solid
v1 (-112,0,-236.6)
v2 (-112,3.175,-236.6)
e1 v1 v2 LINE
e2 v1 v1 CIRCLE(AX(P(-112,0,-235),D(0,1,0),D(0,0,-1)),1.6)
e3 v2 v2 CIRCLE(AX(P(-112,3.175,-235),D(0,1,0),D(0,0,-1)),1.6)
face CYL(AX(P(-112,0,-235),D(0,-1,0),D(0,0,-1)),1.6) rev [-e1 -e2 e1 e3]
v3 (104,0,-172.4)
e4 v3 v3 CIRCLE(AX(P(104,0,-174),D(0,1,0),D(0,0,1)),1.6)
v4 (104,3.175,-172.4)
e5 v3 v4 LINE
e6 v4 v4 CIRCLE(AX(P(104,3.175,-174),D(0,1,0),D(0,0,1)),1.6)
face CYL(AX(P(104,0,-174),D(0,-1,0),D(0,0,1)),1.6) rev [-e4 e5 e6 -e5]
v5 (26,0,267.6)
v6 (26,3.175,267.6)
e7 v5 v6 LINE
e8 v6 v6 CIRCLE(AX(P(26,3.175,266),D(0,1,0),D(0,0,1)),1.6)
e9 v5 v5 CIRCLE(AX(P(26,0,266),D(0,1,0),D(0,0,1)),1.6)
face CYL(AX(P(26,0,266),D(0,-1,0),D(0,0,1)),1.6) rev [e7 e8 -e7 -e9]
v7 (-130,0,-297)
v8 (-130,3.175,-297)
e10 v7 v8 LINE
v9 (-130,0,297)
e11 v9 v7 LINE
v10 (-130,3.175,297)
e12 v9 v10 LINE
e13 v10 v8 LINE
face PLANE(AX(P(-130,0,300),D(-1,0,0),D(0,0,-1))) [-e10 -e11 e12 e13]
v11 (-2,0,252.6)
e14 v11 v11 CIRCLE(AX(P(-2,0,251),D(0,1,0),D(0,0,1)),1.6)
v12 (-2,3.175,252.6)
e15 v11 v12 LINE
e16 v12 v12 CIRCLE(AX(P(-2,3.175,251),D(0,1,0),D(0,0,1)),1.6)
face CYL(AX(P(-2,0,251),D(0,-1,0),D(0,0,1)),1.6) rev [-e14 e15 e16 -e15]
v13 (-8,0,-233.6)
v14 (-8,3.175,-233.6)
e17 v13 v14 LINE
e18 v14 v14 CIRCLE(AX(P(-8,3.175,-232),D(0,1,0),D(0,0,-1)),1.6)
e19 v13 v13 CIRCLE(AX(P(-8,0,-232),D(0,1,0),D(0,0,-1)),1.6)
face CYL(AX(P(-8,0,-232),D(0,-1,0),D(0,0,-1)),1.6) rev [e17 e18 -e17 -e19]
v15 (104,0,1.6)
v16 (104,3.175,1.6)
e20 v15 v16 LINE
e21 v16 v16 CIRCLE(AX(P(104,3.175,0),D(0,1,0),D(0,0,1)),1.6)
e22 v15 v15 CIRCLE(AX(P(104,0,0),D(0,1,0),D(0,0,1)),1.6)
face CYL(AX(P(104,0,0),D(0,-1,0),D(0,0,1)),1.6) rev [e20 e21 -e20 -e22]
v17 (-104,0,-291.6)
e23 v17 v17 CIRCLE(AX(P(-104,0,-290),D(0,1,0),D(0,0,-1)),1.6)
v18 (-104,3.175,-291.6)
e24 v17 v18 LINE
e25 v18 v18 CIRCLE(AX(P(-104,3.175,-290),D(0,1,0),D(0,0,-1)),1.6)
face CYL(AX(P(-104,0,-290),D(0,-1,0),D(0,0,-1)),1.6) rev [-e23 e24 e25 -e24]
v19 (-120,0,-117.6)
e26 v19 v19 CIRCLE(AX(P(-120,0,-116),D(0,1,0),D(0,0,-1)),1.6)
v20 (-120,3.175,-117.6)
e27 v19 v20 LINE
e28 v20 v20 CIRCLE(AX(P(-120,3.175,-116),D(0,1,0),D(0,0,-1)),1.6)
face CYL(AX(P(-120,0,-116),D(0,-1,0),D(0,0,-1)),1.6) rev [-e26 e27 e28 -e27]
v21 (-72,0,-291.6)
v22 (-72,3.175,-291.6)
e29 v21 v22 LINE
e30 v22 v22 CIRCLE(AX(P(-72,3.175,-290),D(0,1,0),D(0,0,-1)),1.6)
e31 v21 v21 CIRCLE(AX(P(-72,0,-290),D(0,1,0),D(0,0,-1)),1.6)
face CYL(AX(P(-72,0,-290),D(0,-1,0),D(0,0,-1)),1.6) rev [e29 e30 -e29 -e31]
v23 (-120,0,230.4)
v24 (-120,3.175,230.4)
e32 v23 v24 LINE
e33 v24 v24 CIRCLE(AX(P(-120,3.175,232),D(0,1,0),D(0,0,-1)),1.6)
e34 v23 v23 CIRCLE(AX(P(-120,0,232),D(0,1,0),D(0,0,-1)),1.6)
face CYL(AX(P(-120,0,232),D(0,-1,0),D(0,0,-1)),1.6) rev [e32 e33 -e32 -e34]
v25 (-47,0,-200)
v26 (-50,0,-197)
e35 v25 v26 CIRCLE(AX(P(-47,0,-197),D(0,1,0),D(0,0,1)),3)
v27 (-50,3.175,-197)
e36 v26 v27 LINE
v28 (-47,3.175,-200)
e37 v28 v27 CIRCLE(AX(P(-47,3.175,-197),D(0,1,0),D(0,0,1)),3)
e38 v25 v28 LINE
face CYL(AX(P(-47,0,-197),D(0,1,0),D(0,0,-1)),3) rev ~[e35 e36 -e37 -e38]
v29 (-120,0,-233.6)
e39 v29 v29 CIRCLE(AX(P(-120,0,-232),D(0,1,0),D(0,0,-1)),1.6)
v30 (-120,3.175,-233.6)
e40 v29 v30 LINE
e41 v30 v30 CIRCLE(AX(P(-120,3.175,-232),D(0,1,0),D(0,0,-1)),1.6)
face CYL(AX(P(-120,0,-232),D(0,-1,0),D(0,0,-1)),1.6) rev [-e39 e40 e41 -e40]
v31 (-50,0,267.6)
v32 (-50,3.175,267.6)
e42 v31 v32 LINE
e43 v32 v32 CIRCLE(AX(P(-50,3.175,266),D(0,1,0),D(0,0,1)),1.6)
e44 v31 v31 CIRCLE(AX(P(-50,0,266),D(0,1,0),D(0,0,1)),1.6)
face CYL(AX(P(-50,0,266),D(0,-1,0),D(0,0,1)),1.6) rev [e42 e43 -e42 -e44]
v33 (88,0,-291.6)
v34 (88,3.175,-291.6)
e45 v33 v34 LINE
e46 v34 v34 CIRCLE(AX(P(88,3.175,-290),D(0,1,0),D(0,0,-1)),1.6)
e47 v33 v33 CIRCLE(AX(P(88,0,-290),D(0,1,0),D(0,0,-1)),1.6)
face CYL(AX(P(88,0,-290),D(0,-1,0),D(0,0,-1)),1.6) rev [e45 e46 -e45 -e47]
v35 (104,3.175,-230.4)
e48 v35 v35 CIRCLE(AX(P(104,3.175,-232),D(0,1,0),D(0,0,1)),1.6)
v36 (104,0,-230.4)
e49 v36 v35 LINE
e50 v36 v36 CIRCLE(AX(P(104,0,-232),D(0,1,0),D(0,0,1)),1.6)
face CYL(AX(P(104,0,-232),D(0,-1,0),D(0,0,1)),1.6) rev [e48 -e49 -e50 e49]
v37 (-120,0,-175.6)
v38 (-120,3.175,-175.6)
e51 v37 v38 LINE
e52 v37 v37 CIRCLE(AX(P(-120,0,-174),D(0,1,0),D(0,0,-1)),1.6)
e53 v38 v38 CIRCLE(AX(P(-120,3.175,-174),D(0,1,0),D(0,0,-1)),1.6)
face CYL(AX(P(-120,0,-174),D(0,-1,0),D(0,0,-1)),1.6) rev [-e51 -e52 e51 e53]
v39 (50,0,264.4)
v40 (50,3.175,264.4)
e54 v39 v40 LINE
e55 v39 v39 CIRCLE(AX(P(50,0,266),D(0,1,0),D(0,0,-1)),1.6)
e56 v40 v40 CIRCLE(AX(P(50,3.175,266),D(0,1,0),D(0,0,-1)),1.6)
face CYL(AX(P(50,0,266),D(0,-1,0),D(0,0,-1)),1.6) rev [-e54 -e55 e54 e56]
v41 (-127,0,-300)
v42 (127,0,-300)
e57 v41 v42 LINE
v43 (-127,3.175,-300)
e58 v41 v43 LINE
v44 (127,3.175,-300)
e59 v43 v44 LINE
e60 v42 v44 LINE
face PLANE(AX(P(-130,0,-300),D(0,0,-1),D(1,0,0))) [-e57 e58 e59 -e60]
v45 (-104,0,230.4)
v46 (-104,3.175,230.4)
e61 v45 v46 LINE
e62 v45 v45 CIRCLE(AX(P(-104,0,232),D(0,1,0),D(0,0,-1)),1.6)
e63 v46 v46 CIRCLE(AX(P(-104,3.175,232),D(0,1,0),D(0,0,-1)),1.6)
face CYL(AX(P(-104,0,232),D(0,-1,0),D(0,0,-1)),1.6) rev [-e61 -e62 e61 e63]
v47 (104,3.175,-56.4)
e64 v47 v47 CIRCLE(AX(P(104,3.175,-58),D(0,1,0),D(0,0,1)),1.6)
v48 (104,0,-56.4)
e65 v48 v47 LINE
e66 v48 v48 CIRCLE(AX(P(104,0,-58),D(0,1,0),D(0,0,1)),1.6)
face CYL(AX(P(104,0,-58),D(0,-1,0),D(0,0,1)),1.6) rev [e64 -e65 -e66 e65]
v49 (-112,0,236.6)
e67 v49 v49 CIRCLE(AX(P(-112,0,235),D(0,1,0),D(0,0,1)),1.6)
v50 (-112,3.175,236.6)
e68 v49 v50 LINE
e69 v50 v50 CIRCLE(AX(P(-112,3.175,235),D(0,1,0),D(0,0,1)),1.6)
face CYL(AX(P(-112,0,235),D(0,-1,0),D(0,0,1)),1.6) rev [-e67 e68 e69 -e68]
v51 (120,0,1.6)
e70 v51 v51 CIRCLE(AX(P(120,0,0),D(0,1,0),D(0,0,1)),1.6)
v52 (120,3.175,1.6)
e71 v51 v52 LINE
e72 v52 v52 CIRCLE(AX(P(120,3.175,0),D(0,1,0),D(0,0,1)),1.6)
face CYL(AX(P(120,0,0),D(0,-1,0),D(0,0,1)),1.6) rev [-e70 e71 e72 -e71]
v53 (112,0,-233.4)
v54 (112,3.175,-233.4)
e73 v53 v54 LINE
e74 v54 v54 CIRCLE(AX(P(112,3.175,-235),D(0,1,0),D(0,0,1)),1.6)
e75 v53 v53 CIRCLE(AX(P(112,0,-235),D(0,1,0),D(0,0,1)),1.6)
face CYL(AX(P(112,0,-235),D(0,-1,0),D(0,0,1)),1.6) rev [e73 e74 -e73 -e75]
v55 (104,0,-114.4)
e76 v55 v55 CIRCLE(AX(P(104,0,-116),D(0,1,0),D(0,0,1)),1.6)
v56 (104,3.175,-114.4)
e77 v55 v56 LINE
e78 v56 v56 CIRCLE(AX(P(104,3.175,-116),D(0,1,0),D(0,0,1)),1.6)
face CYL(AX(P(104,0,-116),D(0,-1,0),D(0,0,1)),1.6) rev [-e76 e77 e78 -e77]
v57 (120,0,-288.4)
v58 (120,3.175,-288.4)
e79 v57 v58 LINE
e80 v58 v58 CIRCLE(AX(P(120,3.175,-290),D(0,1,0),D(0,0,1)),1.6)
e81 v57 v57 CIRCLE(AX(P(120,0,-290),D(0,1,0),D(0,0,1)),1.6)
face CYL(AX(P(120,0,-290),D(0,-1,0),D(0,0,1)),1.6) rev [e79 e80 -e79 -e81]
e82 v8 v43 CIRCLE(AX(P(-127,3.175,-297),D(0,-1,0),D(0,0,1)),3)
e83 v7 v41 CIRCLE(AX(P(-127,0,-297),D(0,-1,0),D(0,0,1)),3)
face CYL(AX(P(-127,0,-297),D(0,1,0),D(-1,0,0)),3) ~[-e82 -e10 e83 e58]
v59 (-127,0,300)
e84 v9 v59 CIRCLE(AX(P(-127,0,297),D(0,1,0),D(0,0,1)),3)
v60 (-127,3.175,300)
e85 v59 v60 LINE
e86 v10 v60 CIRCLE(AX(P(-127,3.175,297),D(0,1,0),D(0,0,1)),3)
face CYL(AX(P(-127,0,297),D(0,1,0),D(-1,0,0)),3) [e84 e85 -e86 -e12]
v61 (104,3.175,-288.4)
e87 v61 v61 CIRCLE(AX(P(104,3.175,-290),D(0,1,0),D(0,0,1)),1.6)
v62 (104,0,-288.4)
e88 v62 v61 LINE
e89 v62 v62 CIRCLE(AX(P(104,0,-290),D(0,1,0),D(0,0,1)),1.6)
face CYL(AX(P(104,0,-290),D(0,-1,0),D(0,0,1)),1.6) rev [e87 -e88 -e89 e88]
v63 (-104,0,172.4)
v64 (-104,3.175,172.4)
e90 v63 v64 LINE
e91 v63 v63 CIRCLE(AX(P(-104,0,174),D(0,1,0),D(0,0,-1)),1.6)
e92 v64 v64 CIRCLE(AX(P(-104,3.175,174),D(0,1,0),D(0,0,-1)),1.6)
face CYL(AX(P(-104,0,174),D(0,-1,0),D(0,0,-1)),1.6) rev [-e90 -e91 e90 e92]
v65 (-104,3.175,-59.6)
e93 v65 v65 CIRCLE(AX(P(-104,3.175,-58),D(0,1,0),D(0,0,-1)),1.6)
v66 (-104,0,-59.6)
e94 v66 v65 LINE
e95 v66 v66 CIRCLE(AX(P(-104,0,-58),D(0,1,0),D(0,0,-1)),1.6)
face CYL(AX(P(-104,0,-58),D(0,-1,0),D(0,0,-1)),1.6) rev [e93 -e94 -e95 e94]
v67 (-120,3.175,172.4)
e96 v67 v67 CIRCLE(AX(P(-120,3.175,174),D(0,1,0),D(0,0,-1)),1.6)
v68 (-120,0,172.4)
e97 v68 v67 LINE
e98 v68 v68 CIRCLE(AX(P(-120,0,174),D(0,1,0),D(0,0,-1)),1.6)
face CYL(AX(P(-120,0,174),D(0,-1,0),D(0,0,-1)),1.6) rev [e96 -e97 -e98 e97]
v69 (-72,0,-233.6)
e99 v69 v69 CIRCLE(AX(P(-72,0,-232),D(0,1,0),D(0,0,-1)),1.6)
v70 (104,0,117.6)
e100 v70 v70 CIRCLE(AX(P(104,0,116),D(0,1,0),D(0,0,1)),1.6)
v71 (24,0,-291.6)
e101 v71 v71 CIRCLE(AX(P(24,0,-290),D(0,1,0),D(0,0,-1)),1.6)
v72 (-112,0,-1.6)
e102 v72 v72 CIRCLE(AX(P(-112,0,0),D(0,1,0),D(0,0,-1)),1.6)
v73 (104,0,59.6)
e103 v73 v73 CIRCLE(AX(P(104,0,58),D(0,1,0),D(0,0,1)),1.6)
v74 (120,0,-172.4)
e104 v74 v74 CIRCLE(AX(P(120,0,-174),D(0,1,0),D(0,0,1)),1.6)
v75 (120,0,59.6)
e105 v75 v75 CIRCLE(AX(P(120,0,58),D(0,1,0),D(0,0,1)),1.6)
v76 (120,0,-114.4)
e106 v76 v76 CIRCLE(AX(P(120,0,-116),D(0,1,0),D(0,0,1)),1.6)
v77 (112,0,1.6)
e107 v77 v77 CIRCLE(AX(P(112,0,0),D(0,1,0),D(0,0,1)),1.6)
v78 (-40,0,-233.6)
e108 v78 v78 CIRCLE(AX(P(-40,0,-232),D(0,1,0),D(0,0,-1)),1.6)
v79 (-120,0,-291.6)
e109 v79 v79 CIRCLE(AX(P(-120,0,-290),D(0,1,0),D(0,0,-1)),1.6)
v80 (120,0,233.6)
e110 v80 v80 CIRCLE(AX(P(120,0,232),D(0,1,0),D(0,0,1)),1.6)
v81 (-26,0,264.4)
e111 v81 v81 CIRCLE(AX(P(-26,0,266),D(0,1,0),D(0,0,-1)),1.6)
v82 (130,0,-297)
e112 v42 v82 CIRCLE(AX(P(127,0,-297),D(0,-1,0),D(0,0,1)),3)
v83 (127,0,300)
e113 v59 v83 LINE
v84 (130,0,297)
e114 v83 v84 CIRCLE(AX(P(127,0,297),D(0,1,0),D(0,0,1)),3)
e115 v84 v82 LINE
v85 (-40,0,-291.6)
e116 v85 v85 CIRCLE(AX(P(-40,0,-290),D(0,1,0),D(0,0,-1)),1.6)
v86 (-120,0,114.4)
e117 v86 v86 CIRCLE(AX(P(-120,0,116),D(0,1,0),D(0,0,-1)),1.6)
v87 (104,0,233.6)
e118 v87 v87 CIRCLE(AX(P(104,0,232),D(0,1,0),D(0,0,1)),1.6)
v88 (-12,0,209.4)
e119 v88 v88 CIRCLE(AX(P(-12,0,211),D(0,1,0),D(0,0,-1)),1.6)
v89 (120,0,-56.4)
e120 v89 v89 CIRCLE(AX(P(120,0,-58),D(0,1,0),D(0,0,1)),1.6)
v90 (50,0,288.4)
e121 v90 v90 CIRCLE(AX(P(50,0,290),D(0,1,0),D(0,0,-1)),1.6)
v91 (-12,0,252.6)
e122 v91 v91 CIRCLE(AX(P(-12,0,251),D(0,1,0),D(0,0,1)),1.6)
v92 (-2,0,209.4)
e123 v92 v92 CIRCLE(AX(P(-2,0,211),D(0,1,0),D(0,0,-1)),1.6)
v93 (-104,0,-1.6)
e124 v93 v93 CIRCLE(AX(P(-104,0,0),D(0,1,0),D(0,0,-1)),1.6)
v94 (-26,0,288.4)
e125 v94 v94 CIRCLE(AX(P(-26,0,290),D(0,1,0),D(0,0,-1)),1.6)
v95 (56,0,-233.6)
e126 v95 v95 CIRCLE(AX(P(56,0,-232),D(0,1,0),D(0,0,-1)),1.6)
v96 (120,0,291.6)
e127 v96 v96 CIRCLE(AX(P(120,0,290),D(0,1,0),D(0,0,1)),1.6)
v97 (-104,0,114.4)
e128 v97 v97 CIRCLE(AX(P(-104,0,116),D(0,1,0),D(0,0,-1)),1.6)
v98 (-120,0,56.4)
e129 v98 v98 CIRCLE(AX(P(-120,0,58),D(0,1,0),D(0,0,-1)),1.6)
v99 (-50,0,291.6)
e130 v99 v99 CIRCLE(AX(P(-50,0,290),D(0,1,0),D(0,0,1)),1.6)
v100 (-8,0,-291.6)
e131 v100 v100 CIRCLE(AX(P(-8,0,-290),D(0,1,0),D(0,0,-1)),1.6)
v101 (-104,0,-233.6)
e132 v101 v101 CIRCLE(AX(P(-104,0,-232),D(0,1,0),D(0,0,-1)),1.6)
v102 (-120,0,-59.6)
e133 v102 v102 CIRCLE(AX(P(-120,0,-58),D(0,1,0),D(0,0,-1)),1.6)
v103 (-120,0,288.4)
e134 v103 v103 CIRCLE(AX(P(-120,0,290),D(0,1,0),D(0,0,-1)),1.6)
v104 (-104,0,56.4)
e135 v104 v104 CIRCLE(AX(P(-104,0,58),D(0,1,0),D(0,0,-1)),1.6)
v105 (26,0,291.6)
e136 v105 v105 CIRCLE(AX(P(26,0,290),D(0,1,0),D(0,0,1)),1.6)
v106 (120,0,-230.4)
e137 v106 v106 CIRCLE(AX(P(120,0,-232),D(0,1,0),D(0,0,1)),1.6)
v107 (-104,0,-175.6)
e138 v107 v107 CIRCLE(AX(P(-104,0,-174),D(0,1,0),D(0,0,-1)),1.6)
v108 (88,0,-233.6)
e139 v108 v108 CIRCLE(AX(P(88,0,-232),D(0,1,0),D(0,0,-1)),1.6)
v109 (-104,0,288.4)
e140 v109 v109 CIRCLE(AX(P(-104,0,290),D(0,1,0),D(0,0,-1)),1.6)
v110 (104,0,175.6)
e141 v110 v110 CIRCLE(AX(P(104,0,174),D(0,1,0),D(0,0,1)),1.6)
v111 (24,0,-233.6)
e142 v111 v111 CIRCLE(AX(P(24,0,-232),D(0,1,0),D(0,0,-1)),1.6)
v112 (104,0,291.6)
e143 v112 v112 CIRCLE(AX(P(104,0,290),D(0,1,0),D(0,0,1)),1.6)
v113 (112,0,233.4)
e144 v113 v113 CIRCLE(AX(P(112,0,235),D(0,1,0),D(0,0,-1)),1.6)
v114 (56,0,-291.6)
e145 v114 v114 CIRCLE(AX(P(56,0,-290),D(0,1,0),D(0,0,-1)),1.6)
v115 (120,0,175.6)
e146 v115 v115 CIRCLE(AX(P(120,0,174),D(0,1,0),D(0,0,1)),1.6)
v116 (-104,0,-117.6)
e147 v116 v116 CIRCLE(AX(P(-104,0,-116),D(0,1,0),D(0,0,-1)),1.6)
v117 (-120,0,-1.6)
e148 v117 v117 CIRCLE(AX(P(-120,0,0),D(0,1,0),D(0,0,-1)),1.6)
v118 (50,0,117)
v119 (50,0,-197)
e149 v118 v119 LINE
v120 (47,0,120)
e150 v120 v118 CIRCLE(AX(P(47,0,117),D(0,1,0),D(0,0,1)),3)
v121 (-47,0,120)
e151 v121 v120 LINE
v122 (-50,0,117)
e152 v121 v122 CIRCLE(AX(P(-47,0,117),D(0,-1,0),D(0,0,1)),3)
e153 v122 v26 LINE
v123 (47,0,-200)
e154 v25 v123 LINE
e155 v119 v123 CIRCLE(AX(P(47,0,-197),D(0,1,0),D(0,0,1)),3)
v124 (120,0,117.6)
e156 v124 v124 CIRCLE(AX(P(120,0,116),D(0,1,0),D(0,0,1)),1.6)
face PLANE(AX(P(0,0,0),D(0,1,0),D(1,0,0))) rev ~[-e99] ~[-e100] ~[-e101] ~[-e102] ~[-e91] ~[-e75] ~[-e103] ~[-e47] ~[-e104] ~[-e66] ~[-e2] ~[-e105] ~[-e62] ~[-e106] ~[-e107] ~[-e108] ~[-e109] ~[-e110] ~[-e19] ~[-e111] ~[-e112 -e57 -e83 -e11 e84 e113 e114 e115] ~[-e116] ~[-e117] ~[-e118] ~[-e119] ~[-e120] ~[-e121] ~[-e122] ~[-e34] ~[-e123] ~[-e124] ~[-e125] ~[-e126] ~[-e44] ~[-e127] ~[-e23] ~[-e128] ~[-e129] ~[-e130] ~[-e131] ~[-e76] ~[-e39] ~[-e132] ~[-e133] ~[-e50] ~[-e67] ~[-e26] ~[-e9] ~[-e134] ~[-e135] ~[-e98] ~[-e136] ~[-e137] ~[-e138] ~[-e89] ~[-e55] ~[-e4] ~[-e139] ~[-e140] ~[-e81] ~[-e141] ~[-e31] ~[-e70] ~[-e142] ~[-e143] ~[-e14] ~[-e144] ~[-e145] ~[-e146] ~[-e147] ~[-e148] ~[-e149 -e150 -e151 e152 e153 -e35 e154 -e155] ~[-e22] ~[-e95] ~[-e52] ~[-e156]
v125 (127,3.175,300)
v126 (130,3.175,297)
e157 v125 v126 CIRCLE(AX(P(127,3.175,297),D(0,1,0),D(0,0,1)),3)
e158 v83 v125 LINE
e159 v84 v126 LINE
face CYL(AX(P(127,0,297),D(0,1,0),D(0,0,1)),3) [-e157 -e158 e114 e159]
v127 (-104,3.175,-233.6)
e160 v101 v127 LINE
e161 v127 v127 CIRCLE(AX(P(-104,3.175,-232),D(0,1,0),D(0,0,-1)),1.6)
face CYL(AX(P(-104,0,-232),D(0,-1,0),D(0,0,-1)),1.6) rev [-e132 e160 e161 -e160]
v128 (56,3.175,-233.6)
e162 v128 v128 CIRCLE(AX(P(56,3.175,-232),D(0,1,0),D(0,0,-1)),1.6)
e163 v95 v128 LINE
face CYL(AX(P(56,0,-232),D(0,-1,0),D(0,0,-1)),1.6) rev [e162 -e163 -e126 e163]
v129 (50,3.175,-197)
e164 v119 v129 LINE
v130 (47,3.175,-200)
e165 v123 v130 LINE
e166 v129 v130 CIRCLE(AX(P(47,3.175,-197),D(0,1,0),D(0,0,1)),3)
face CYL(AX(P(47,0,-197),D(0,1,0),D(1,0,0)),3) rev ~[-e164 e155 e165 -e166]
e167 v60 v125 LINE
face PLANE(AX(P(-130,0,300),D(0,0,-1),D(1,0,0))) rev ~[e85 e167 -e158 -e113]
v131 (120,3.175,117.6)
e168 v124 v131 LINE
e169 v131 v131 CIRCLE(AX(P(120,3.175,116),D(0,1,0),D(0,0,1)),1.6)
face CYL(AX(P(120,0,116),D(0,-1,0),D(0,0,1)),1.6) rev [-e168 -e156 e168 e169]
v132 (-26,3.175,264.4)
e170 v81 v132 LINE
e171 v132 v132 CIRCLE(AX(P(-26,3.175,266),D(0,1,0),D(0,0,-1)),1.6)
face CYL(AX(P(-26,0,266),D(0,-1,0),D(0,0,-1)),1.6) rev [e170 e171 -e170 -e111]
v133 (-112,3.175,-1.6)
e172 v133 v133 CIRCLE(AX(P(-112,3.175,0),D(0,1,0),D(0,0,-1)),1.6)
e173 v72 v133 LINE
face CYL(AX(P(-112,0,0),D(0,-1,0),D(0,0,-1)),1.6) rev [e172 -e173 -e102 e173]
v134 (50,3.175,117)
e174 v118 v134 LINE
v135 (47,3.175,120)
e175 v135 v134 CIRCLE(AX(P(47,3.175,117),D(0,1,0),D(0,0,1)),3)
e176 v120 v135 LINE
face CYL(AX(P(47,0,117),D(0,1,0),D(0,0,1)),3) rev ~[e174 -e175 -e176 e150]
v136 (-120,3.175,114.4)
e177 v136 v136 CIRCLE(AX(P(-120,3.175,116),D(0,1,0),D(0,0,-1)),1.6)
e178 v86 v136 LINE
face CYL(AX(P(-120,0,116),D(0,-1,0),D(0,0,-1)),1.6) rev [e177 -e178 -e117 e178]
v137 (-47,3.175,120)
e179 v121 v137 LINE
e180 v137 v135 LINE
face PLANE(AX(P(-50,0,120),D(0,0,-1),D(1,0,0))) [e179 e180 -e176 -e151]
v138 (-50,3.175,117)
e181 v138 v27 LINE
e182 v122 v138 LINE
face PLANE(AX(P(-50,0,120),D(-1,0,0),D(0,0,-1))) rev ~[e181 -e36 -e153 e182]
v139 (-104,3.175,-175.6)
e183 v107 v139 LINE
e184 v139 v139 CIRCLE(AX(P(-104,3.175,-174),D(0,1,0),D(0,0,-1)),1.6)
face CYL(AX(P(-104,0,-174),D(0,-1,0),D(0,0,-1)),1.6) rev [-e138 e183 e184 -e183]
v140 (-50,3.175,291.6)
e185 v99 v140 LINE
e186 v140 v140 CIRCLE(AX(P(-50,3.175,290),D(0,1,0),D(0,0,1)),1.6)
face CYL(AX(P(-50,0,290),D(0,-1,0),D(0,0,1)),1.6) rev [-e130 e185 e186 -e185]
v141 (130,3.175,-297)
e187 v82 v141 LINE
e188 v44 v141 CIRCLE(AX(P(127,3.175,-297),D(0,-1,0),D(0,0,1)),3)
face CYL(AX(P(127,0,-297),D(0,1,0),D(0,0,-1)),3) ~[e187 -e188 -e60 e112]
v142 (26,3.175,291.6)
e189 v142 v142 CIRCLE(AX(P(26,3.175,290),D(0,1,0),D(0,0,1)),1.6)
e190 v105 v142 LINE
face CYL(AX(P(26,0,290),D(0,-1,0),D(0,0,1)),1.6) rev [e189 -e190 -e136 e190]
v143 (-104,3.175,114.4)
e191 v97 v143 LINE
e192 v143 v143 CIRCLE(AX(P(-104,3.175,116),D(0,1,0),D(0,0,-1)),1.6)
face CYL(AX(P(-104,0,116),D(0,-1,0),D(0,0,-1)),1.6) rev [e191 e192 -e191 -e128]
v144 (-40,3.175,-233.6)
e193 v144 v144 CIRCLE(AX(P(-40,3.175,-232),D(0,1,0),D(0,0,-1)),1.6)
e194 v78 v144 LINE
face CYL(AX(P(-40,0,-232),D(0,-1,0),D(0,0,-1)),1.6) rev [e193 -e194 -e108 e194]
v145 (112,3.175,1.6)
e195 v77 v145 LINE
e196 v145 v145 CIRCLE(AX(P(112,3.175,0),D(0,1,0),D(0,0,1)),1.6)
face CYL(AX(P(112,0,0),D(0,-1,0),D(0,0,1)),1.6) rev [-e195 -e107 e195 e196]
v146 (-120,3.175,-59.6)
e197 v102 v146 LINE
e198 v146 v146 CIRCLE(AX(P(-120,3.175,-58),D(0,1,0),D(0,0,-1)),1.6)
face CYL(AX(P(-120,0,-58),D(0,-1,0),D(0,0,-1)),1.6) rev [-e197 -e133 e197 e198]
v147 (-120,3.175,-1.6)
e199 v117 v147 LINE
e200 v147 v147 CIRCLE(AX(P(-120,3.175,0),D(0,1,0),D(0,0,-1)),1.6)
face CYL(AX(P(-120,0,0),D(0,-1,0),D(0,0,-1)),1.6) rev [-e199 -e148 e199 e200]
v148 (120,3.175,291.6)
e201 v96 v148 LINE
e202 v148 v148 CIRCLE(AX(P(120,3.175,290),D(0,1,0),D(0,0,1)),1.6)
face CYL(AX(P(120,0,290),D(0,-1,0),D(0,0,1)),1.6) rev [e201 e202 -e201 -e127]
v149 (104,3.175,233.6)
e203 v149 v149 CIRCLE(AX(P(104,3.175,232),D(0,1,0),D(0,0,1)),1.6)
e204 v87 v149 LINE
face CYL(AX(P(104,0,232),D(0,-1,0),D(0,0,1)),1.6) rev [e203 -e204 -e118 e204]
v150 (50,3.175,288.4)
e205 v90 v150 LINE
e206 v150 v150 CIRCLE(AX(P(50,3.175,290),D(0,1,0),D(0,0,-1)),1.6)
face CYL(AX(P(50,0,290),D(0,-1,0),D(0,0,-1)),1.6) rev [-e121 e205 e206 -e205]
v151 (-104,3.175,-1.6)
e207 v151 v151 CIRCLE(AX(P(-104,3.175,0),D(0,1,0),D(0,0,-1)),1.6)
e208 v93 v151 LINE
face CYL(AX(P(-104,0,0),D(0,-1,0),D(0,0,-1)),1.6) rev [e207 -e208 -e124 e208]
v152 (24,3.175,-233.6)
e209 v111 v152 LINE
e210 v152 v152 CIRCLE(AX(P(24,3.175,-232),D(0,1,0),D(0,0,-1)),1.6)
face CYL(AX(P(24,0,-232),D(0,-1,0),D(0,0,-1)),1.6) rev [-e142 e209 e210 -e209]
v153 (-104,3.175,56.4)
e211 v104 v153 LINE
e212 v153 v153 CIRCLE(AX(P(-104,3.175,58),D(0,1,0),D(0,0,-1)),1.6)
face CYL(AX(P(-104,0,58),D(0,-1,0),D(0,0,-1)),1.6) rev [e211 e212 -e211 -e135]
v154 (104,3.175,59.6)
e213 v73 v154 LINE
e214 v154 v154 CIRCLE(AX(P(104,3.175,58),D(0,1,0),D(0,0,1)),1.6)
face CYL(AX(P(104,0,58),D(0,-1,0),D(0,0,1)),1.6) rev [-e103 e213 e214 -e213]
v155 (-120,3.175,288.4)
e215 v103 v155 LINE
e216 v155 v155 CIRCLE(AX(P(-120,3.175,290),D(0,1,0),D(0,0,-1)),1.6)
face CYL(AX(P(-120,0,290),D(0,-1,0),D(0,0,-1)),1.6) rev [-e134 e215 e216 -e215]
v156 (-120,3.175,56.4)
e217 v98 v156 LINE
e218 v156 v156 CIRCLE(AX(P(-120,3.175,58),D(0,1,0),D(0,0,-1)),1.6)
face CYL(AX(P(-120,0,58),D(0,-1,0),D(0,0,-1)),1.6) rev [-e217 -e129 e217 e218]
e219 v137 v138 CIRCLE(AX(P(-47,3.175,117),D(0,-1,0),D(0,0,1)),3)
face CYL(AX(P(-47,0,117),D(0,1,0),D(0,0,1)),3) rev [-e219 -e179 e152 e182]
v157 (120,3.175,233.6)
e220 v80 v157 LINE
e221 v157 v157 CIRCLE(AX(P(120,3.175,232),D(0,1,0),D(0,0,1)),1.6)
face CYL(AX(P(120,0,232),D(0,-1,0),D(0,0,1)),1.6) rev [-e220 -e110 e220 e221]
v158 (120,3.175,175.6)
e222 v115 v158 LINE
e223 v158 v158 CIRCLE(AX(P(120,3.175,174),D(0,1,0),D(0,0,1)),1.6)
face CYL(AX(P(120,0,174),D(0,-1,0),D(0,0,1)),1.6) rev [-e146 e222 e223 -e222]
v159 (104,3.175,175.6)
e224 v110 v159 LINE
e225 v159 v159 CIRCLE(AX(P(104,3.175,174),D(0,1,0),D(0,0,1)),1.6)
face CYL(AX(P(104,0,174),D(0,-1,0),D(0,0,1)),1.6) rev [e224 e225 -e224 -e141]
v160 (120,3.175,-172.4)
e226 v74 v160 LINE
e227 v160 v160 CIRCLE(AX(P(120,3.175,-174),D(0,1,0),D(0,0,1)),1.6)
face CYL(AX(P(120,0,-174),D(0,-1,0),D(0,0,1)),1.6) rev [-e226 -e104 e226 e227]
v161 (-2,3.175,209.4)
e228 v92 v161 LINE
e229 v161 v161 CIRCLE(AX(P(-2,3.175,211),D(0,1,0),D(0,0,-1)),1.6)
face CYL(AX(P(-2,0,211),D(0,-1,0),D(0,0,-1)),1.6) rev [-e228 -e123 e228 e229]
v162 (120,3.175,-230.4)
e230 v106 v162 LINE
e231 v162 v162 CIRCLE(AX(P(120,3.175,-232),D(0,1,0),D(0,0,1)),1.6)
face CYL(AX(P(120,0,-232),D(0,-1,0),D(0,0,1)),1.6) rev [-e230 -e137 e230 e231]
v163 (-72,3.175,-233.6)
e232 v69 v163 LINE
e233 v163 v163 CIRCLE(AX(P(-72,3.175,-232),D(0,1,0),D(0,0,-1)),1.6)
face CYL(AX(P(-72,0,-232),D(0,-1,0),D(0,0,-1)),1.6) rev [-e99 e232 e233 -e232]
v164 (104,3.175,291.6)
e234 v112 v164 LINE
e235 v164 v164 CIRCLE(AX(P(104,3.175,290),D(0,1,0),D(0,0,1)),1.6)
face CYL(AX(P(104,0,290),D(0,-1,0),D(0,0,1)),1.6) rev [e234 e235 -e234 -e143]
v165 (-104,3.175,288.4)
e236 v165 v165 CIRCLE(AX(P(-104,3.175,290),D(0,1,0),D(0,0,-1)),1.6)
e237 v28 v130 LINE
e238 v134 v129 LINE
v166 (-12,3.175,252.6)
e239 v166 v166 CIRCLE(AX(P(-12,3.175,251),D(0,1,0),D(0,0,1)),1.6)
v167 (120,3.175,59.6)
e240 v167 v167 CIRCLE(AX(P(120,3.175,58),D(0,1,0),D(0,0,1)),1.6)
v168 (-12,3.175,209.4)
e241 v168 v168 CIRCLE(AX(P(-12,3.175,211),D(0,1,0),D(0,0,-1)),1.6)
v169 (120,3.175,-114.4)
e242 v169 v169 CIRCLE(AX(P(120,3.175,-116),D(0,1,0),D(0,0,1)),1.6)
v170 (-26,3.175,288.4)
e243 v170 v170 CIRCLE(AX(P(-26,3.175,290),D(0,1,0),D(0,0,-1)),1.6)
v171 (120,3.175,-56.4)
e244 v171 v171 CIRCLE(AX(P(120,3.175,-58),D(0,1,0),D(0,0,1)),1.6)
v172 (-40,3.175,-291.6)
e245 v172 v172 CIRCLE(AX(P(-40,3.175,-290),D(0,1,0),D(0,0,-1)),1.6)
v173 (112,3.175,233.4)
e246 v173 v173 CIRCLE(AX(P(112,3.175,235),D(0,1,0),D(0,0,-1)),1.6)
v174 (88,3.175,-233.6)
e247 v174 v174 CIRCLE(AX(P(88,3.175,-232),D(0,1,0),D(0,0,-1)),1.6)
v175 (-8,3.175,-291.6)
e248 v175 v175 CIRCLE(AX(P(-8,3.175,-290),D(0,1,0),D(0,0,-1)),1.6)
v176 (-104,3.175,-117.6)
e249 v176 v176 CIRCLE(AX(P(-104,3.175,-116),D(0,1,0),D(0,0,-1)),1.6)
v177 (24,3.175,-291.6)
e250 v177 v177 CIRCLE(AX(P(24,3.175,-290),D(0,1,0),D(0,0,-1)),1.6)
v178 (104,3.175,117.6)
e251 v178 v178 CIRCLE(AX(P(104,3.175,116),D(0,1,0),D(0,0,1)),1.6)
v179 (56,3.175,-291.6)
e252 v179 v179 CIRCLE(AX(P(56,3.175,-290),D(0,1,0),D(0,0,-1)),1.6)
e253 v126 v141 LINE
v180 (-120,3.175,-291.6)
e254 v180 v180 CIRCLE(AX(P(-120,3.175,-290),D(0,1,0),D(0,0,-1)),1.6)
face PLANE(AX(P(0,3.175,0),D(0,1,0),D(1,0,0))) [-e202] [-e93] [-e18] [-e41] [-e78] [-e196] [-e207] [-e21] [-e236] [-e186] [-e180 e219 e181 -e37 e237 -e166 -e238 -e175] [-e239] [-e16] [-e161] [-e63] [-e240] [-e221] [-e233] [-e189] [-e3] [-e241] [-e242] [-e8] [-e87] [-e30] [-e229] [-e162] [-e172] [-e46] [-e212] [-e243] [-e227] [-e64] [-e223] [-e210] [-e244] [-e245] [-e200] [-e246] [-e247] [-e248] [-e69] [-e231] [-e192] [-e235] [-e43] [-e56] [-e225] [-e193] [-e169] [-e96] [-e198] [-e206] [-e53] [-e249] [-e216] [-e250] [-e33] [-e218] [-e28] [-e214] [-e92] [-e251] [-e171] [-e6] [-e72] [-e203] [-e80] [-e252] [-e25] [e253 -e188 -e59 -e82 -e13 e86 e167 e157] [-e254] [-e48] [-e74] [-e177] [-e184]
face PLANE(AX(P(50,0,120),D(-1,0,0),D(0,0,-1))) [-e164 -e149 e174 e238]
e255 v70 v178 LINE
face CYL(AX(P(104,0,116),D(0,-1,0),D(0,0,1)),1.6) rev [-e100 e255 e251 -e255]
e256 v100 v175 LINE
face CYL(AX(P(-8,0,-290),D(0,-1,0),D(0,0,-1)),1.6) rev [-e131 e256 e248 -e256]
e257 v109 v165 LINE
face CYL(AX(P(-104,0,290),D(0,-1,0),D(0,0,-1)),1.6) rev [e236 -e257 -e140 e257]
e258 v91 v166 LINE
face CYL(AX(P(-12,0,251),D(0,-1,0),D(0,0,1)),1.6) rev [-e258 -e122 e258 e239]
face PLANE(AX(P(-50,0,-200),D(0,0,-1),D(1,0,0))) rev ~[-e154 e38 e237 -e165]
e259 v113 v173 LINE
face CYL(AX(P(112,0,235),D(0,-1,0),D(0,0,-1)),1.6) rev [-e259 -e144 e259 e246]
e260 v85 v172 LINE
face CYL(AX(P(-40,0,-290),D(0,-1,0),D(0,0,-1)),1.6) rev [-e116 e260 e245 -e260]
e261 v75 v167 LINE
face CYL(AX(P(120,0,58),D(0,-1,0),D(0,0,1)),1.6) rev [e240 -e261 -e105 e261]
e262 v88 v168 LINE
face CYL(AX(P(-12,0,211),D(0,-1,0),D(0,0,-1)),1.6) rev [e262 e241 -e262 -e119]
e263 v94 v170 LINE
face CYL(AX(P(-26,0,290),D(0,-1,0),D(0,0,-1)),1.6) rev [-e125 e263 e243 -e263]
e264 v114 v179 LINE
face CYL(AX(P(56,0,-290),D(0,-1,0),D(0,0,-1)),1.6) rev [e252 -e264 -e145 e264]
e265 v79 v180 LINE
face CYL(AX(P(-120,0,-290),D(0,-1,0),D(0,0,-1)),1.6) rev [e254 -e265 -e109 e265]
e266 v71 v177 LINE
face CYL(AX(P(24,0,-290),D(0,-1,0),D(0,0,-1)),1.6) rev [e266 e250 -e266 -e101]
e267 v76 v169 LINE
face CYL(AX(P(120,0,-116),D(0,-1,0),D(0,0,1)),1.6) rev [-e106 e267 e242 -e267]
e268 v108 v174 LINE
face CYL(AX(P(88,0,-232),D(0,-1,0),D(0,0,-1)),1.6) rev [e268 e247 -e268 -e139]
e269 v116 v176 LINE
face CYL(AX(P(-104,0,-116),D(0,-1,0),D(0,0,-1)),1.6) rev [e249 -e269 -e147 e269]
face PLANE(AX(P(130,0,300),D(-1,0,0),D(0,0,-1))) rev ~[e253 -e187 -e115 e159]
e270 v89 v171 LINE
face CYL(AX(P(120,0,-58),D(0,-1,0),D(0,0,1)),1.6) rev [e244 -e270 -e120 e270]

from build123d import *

# Parameters (mm, degrees)
SKETCH1_W           = 260
SKETCH1_H           = 600
SKETCH1_R           = 1.6
SKETCH1_W_2         = 100
SKETCH1_H_2         = 320
BOSS_EXTRUDE1_DEPTH = 3.175
FILLET1_R           = 3


with BuildPart() as part:
    # Sketch1 → Boss-Extrude1 (new body)
    with BuildSketch(Plane(origin=(0, 0, 0), x_dir=(1, 0, 0), z_dir=(0, 1, 0))):
        Rectangle(SKETCH1_W, SKETCH1_H)
        with Locations(Location((120, 290, 0), (0, 0, 270))):
            Circle(SKETCH1_R, mode=Mode.SUBTRACT)
        with Locations(Location((120, 232, 0), (0, 0, 270))):
            Circle(SKETCH1_R, mode=Mode.SUBTRACT)
        with Locations(Location((120, 174, 0), (0, 0, 270))):
            Circle(SKETCH1_R, mode=Mode.SUBTRACT)
        with Locations(Location((120, 116, 0), (0, 0, 270))):
            Circle(SKETCH1_R, mode=Mode.SUBTRACT)
        with Locations(Location((120, 58, 0), (0, 0, 270))):
            Circle(SKETCH1_R, mode=Mode.SUBTRACT)
        with Locations(Location((120, 0, 0), (0, 0, 270))):
            Circle(SKETCH1_R, mode=Mode.SUBTRACT)
        with Locations(Location((120, -58, 0), (0, 0, 270))):
            Circle(SKETCH1_R, mode=Mode.SUBTRACT)
        with Locations(Location((120, -116, 0), (0, 0, 270))):
            Circle(SKETCH1_R, mode=Mode.SUBTRACT)
        with Locations(Location((120, -174, 0), (0, 0, 270))):
            Circle(SKETCH1_R, mode=Mode.SUBTRACT)
        with Locations(Location((120, -232, 0), (0, 0, 270))):
            Circle(SKETCH1_R, mode=Mode.SUBTRACT)
        with Locations(Location((120, -290, 0), (0, 0, 270))):
            Circle(SKETCH1_R, mode=Mode.SUBTRACT)
        with Locations(Location((-120, 232, 0), (0, 0, 90))):
            Circle(SKETCH1_R, mode=Mode.SUBTRACT)
        with Locations(Location((-120, -290, 0), (0, 0, 90))):
            Circle(SKETCH1_R, mode=Mode.SUBTRACT)
        with Locations(Location((-120, -232, 0), (0, 0, 90))):
            Circle(SKETCH1_R, mode=Mode.SUBTRACT)
        with Locations(Location((-120, -174, 0), (0, 0, 90))):
            Circle(SKETCH1_R, mode=Mode.SUBTRACT)
        with Locations(Location((-120, -116, 0), (0, 0, 90))):
            Circle(SKETCH1_R, mode=Mode.SUBTRACT)
        with Locations(Location((-120, -58, 0), (0, 0, 90))):
            Circle(SKETCH1_R, mode=Mode.SUBTRACT)
        with Locations(Location((-120, 0, 0), (0, 0, 90))):
            Circle(SKETCH1_R, mode=Mode.SUBTRACT)
        with Locations(Location((-120, 58, 0), (0, 0, 90))):
            Circle(SKETCH1_R, mode=Mode.SUBTRACT)
        with Locations(Location((-120, 116, 0), (0, 0, 90))):
            Circle(SKETCH1_R, mode=Mode.SUBTRACT)
        with Locations(Location((-120, 174, 0), (0, 0, 90))):
            Circle(SKETCH1_R, mode=Mode.SUBTRACT)
        with Locations(Location((-120, 290, 0), (0, 0, 90))):
            Circle(SKETCH1_R, mode=Mode.SUBTRACT)
        with Locations(Location((112, 235, 0), (0, 0, 270))):
            Circle(SKETCH1_R, mode=Mode.SUBTRACT)
        with Locations(Location((-112, 235, 0), (0, 0, 90))):
            Circle(SKETCH1_R, mode=Mode.SUBTRACT)
        with Locations(Location((112, -235, 0), (0, 0, 90))):
            Circle(SKETCH1_R, mode=Mode.SUBTRACT)
        with Locations(Location((-112, -235, 0), (0, 0, 270))):
            Circle(SKETCH1_R, mode=Mode.SUBTRACT)
        with Locations(Location((104, 290, 0), (0, 0, 270))):
            Circle(SKETCH1_R, mode=Mode.SUBTRACT)
        with Locations(Location((104, 232, 0), (0, 0, 270))):
            Circle(SKETCH1_R, mode=Mode.SUBTRACT)
        with Locations(Location((104, 174, 0), (0, 0, 270))):
            Circle(SKETCH1_R, mode=Mode.SUBTRACT)
        with Locations(Location((104, 116, 0), (0, 0, 270))):
            Circle(SKETCH1_R, mode=Mode.SUBTRACT)
        with Locations(Location((104, 58, 0), (0, 0, 270))):
            Circle(SKETCH1_R, mode=Mode.SUBTRACT)
        with Locations(Location((104, 0, 0), (0, 0, 270))):
            Circle(SKETCH1_R, mode=Mode.SUBTRACT)
        with Locations(Location((104, -58, 0), (0, 0, 270))):
            Circle(SKETCH1_R, mode=Mode.SUBTRACT)
        with Locations(Location((104, -116, 0), (0, 0, 270))):
            Circle(SKETCH1_R, mode=Mode.SUBTRACT)
        with Locations(Location((104, -174, 0), (0, 0, 270))):
            Circle(SKETCH1_R, mode=Mode.SUBTRACT)
        with Locations(Location((104, -232, 0), (0, 0, 270))):
            Circle(SKETCH1_R, mode=Mode.SUBTRACT)
        with Locations(Location((104, -290, 0), (0, 0, 270))):
            Circle(SKETCH1_R, mode=Mode.SUBTRACT)
        with Locations(Location((-104, -290, 0), (0, 0, 90))):
            Circle(SKETCH1_R, mode=Mode.SUBTRACT)
        with Locations(Location((-104, -174, 0), (0, 0, 90))):
            Circle(SKETCH1_R, mode=Mode.SUBTRACT)
        with Locations(Location((-104, -116, 0), (0, 0, 90))):
            Circle(SKETCH1_R, mode=Mode.SUBTRACT)
        with Locations(Location((-104, -58, 0), (0, 0, 90))):
            Circle(SKETCH1_R, mode=Mode.SUBTRACT)
        with Locations(Location((-104, 0, 0), (0, 0, 90))):
            Circle(SKETCH1_R, mode=Mode.SUBTRACT)
        with Locations(Location((-104, 58, 0), (0, 0, 90))):
            Circle(SKETCH1_R, mode=Mode.SUBTRACT)
        with Locations(Location((-104, 116, 0), (0, 0, 90))):
            Circle(SKETCH1_R, mode=Mode.SUBTRACT)
        with Locations(Location((-104, 174, 0), (0, 0, 90))):
            Circle(SKETCH1_R, mode=Mode.SUBTRACT)
        with Locations(Location((-104, 232, 0), (0, 0, 90))):
            Circle(SKETCH1_R, mode=Mode.SUBTRACT)
        with Locations(Location((-104, 290, 0), (0, 0, 90))):
            Circle(SKETCH1_R, mode=Mode.SUBTRACT)
        with Locations(Location((-104, -232, 0), (0, 0, 90))):
            Circle(SKETCH1_R, mode=Mode.SUBTRACT)
        with Locations(Location((112, 0, 0), (0, 0, 270))):
            Circle(SKETCH1_R, mode=Mode.SUBTRACT)
        with Locations(Location((-112, 0, 0), (0, 0, 90))):
            Circle(SKETCH1_R, mode=Mode.SUBTRACT)
        with Locations(Location((-50, -290, 0), (0, 0, 270))):
            Circle(SKETCH1_R, mode=Mode.SUBTRACT)
        with Locations(Location((-50, -266, 0), (0, 0, 270))):
            Circle(SKETCH1_R, mode=Mode.SUBTRACT)
        with Locations(Location((50, -266, 0), (0, 0, 90))):
            Circle(SKETCH1_R, mode=Mode.SUBTRACT)
        with Locations(Location((50, -290, 0), (0, 0, 90))):
            Circle(SKETCH1_R, mode=Mode.SUBTRACT)
        with Locations(Location((-26, -290, 0), (0, 0, 90))):
            Circle(SKETCH1_R, mode=Mode.SUBTRACT)
        with Locations(Location((-26, -266, 0), (0, 0, 90))):
            Circle(SKETCH1_R, mode=Mode.SUBTRACT)
        with Locations(Location((26, -290, 0), (0, 0, 270))):
            Circle(SKETCH1_R, mode=Mode.SUBTRACT)
        with Locations(Location((26, -266, 0), (0, 0, 270))):
            Circle(SKETCH1_R, mode=Mode.SUBTRACT)
        with Locations(Location((-72, 290, 0), (0, 0, 90))):
            Circle(SKETCH1_R, mode=Mode.SUBTRACT)
        with Locations(Location((-72, 232, 0), (0, 0, 90))):
            Circle(SKETCH1_R, mode=Mode.SUBTRACT)
        with Locations(Location((-40, 290, 0), (0, 0, 90))):
            Circle(SKETCH1_R, mode=Mode.SUBTRACT)
        with Locations(Location((-40, 232, 0), (0, 0, 90))):
            Circle(SKETCH1_R, mode=Mode.SUBTRACT)
        with Locations(Location((-8, 290, 0), (0, 0, 90))):
            Circle(SKETCH1_R, mode=Mode.SUBTRACT)
        with Locations(Location((-8, 232, 0), (0, 0, 90))):
            Circle(SKETCH1_R, mode=Mode.SUBTRACT)
        with Locations(Location((24, 290, 0), (0, 0, 90))):
            Circle(SKETCH1_R, mode=Mode.SUBTRACT)
        with Locations(Location((24, 232, 0), (0, 0, 90))):
            Circle(SKETCH1_R, mode=Mode.SUBTRACT)
        with Locations(Location((56, 290, 0), (0, 0, 90))):
            Circle(SKETCH1_R, mode=Mode.SUBTRACT)
        with Locations(Location((56, 232, 0), (0, 0, 90))):
            Circle(SKETCH1_R, mode=Mode.SUBTRACT)
        with Locations(Location((88, 290, 0), (0, 0, 90))):
            Circle(SKETCH1_R, mode=Mode.SUBTRACT)
        with Locations(Location((88, 232, 0), (0, 0, 90))):
            Circle(SKETCH1_R, mode=Mode.SUBTRACT)
        with Locations(Location((-12, -251, 0), (0, 0, 270))):
            Circle(SKETCH1_R, mode=Mode.SUBTRACT)
        with Locations(Location((-2, -251, 0), (0, 0, 270))):
            Circle(SKETCH1_R, mode=Mode.SUBTRACT)
        with Locations(Location((-12, -211, 0), (0, 0, 90))):
            Circle(SKETCH1_R, mode=Mode.SUBTRACT)
        with Locations(Location((-2, -211, 0), (0, 0, 90))):
            Circle(SKETCH1_R, mode=Mode.SUBTRACT)
        with Locations((0, 40)):
            Rectangle(SKETCH1_W_2, SKETCH1_H_2, mode=Mode.SUBTRACT)
    extrude(amount=BOSS_EXTRUDE1_DEPTH)

    # Fillet1
    fillet1_edges = [part.edges().sort_by_distance(p)[0] for p in [
        (50, 1.5875, 120),
        (50, 1.5875, -200),
        (-50, 1.5875, -200),
        (-50, 1.5875, 120),
        (130, 1.5875, 300),
        (-130, 1.5875, 300),
        (-130, 1.5875, -300),
        (130, 1.5875, -300),
    ]]
    fillet(fillet1_edges, radius=FILLET1_R)


solid = part.part
